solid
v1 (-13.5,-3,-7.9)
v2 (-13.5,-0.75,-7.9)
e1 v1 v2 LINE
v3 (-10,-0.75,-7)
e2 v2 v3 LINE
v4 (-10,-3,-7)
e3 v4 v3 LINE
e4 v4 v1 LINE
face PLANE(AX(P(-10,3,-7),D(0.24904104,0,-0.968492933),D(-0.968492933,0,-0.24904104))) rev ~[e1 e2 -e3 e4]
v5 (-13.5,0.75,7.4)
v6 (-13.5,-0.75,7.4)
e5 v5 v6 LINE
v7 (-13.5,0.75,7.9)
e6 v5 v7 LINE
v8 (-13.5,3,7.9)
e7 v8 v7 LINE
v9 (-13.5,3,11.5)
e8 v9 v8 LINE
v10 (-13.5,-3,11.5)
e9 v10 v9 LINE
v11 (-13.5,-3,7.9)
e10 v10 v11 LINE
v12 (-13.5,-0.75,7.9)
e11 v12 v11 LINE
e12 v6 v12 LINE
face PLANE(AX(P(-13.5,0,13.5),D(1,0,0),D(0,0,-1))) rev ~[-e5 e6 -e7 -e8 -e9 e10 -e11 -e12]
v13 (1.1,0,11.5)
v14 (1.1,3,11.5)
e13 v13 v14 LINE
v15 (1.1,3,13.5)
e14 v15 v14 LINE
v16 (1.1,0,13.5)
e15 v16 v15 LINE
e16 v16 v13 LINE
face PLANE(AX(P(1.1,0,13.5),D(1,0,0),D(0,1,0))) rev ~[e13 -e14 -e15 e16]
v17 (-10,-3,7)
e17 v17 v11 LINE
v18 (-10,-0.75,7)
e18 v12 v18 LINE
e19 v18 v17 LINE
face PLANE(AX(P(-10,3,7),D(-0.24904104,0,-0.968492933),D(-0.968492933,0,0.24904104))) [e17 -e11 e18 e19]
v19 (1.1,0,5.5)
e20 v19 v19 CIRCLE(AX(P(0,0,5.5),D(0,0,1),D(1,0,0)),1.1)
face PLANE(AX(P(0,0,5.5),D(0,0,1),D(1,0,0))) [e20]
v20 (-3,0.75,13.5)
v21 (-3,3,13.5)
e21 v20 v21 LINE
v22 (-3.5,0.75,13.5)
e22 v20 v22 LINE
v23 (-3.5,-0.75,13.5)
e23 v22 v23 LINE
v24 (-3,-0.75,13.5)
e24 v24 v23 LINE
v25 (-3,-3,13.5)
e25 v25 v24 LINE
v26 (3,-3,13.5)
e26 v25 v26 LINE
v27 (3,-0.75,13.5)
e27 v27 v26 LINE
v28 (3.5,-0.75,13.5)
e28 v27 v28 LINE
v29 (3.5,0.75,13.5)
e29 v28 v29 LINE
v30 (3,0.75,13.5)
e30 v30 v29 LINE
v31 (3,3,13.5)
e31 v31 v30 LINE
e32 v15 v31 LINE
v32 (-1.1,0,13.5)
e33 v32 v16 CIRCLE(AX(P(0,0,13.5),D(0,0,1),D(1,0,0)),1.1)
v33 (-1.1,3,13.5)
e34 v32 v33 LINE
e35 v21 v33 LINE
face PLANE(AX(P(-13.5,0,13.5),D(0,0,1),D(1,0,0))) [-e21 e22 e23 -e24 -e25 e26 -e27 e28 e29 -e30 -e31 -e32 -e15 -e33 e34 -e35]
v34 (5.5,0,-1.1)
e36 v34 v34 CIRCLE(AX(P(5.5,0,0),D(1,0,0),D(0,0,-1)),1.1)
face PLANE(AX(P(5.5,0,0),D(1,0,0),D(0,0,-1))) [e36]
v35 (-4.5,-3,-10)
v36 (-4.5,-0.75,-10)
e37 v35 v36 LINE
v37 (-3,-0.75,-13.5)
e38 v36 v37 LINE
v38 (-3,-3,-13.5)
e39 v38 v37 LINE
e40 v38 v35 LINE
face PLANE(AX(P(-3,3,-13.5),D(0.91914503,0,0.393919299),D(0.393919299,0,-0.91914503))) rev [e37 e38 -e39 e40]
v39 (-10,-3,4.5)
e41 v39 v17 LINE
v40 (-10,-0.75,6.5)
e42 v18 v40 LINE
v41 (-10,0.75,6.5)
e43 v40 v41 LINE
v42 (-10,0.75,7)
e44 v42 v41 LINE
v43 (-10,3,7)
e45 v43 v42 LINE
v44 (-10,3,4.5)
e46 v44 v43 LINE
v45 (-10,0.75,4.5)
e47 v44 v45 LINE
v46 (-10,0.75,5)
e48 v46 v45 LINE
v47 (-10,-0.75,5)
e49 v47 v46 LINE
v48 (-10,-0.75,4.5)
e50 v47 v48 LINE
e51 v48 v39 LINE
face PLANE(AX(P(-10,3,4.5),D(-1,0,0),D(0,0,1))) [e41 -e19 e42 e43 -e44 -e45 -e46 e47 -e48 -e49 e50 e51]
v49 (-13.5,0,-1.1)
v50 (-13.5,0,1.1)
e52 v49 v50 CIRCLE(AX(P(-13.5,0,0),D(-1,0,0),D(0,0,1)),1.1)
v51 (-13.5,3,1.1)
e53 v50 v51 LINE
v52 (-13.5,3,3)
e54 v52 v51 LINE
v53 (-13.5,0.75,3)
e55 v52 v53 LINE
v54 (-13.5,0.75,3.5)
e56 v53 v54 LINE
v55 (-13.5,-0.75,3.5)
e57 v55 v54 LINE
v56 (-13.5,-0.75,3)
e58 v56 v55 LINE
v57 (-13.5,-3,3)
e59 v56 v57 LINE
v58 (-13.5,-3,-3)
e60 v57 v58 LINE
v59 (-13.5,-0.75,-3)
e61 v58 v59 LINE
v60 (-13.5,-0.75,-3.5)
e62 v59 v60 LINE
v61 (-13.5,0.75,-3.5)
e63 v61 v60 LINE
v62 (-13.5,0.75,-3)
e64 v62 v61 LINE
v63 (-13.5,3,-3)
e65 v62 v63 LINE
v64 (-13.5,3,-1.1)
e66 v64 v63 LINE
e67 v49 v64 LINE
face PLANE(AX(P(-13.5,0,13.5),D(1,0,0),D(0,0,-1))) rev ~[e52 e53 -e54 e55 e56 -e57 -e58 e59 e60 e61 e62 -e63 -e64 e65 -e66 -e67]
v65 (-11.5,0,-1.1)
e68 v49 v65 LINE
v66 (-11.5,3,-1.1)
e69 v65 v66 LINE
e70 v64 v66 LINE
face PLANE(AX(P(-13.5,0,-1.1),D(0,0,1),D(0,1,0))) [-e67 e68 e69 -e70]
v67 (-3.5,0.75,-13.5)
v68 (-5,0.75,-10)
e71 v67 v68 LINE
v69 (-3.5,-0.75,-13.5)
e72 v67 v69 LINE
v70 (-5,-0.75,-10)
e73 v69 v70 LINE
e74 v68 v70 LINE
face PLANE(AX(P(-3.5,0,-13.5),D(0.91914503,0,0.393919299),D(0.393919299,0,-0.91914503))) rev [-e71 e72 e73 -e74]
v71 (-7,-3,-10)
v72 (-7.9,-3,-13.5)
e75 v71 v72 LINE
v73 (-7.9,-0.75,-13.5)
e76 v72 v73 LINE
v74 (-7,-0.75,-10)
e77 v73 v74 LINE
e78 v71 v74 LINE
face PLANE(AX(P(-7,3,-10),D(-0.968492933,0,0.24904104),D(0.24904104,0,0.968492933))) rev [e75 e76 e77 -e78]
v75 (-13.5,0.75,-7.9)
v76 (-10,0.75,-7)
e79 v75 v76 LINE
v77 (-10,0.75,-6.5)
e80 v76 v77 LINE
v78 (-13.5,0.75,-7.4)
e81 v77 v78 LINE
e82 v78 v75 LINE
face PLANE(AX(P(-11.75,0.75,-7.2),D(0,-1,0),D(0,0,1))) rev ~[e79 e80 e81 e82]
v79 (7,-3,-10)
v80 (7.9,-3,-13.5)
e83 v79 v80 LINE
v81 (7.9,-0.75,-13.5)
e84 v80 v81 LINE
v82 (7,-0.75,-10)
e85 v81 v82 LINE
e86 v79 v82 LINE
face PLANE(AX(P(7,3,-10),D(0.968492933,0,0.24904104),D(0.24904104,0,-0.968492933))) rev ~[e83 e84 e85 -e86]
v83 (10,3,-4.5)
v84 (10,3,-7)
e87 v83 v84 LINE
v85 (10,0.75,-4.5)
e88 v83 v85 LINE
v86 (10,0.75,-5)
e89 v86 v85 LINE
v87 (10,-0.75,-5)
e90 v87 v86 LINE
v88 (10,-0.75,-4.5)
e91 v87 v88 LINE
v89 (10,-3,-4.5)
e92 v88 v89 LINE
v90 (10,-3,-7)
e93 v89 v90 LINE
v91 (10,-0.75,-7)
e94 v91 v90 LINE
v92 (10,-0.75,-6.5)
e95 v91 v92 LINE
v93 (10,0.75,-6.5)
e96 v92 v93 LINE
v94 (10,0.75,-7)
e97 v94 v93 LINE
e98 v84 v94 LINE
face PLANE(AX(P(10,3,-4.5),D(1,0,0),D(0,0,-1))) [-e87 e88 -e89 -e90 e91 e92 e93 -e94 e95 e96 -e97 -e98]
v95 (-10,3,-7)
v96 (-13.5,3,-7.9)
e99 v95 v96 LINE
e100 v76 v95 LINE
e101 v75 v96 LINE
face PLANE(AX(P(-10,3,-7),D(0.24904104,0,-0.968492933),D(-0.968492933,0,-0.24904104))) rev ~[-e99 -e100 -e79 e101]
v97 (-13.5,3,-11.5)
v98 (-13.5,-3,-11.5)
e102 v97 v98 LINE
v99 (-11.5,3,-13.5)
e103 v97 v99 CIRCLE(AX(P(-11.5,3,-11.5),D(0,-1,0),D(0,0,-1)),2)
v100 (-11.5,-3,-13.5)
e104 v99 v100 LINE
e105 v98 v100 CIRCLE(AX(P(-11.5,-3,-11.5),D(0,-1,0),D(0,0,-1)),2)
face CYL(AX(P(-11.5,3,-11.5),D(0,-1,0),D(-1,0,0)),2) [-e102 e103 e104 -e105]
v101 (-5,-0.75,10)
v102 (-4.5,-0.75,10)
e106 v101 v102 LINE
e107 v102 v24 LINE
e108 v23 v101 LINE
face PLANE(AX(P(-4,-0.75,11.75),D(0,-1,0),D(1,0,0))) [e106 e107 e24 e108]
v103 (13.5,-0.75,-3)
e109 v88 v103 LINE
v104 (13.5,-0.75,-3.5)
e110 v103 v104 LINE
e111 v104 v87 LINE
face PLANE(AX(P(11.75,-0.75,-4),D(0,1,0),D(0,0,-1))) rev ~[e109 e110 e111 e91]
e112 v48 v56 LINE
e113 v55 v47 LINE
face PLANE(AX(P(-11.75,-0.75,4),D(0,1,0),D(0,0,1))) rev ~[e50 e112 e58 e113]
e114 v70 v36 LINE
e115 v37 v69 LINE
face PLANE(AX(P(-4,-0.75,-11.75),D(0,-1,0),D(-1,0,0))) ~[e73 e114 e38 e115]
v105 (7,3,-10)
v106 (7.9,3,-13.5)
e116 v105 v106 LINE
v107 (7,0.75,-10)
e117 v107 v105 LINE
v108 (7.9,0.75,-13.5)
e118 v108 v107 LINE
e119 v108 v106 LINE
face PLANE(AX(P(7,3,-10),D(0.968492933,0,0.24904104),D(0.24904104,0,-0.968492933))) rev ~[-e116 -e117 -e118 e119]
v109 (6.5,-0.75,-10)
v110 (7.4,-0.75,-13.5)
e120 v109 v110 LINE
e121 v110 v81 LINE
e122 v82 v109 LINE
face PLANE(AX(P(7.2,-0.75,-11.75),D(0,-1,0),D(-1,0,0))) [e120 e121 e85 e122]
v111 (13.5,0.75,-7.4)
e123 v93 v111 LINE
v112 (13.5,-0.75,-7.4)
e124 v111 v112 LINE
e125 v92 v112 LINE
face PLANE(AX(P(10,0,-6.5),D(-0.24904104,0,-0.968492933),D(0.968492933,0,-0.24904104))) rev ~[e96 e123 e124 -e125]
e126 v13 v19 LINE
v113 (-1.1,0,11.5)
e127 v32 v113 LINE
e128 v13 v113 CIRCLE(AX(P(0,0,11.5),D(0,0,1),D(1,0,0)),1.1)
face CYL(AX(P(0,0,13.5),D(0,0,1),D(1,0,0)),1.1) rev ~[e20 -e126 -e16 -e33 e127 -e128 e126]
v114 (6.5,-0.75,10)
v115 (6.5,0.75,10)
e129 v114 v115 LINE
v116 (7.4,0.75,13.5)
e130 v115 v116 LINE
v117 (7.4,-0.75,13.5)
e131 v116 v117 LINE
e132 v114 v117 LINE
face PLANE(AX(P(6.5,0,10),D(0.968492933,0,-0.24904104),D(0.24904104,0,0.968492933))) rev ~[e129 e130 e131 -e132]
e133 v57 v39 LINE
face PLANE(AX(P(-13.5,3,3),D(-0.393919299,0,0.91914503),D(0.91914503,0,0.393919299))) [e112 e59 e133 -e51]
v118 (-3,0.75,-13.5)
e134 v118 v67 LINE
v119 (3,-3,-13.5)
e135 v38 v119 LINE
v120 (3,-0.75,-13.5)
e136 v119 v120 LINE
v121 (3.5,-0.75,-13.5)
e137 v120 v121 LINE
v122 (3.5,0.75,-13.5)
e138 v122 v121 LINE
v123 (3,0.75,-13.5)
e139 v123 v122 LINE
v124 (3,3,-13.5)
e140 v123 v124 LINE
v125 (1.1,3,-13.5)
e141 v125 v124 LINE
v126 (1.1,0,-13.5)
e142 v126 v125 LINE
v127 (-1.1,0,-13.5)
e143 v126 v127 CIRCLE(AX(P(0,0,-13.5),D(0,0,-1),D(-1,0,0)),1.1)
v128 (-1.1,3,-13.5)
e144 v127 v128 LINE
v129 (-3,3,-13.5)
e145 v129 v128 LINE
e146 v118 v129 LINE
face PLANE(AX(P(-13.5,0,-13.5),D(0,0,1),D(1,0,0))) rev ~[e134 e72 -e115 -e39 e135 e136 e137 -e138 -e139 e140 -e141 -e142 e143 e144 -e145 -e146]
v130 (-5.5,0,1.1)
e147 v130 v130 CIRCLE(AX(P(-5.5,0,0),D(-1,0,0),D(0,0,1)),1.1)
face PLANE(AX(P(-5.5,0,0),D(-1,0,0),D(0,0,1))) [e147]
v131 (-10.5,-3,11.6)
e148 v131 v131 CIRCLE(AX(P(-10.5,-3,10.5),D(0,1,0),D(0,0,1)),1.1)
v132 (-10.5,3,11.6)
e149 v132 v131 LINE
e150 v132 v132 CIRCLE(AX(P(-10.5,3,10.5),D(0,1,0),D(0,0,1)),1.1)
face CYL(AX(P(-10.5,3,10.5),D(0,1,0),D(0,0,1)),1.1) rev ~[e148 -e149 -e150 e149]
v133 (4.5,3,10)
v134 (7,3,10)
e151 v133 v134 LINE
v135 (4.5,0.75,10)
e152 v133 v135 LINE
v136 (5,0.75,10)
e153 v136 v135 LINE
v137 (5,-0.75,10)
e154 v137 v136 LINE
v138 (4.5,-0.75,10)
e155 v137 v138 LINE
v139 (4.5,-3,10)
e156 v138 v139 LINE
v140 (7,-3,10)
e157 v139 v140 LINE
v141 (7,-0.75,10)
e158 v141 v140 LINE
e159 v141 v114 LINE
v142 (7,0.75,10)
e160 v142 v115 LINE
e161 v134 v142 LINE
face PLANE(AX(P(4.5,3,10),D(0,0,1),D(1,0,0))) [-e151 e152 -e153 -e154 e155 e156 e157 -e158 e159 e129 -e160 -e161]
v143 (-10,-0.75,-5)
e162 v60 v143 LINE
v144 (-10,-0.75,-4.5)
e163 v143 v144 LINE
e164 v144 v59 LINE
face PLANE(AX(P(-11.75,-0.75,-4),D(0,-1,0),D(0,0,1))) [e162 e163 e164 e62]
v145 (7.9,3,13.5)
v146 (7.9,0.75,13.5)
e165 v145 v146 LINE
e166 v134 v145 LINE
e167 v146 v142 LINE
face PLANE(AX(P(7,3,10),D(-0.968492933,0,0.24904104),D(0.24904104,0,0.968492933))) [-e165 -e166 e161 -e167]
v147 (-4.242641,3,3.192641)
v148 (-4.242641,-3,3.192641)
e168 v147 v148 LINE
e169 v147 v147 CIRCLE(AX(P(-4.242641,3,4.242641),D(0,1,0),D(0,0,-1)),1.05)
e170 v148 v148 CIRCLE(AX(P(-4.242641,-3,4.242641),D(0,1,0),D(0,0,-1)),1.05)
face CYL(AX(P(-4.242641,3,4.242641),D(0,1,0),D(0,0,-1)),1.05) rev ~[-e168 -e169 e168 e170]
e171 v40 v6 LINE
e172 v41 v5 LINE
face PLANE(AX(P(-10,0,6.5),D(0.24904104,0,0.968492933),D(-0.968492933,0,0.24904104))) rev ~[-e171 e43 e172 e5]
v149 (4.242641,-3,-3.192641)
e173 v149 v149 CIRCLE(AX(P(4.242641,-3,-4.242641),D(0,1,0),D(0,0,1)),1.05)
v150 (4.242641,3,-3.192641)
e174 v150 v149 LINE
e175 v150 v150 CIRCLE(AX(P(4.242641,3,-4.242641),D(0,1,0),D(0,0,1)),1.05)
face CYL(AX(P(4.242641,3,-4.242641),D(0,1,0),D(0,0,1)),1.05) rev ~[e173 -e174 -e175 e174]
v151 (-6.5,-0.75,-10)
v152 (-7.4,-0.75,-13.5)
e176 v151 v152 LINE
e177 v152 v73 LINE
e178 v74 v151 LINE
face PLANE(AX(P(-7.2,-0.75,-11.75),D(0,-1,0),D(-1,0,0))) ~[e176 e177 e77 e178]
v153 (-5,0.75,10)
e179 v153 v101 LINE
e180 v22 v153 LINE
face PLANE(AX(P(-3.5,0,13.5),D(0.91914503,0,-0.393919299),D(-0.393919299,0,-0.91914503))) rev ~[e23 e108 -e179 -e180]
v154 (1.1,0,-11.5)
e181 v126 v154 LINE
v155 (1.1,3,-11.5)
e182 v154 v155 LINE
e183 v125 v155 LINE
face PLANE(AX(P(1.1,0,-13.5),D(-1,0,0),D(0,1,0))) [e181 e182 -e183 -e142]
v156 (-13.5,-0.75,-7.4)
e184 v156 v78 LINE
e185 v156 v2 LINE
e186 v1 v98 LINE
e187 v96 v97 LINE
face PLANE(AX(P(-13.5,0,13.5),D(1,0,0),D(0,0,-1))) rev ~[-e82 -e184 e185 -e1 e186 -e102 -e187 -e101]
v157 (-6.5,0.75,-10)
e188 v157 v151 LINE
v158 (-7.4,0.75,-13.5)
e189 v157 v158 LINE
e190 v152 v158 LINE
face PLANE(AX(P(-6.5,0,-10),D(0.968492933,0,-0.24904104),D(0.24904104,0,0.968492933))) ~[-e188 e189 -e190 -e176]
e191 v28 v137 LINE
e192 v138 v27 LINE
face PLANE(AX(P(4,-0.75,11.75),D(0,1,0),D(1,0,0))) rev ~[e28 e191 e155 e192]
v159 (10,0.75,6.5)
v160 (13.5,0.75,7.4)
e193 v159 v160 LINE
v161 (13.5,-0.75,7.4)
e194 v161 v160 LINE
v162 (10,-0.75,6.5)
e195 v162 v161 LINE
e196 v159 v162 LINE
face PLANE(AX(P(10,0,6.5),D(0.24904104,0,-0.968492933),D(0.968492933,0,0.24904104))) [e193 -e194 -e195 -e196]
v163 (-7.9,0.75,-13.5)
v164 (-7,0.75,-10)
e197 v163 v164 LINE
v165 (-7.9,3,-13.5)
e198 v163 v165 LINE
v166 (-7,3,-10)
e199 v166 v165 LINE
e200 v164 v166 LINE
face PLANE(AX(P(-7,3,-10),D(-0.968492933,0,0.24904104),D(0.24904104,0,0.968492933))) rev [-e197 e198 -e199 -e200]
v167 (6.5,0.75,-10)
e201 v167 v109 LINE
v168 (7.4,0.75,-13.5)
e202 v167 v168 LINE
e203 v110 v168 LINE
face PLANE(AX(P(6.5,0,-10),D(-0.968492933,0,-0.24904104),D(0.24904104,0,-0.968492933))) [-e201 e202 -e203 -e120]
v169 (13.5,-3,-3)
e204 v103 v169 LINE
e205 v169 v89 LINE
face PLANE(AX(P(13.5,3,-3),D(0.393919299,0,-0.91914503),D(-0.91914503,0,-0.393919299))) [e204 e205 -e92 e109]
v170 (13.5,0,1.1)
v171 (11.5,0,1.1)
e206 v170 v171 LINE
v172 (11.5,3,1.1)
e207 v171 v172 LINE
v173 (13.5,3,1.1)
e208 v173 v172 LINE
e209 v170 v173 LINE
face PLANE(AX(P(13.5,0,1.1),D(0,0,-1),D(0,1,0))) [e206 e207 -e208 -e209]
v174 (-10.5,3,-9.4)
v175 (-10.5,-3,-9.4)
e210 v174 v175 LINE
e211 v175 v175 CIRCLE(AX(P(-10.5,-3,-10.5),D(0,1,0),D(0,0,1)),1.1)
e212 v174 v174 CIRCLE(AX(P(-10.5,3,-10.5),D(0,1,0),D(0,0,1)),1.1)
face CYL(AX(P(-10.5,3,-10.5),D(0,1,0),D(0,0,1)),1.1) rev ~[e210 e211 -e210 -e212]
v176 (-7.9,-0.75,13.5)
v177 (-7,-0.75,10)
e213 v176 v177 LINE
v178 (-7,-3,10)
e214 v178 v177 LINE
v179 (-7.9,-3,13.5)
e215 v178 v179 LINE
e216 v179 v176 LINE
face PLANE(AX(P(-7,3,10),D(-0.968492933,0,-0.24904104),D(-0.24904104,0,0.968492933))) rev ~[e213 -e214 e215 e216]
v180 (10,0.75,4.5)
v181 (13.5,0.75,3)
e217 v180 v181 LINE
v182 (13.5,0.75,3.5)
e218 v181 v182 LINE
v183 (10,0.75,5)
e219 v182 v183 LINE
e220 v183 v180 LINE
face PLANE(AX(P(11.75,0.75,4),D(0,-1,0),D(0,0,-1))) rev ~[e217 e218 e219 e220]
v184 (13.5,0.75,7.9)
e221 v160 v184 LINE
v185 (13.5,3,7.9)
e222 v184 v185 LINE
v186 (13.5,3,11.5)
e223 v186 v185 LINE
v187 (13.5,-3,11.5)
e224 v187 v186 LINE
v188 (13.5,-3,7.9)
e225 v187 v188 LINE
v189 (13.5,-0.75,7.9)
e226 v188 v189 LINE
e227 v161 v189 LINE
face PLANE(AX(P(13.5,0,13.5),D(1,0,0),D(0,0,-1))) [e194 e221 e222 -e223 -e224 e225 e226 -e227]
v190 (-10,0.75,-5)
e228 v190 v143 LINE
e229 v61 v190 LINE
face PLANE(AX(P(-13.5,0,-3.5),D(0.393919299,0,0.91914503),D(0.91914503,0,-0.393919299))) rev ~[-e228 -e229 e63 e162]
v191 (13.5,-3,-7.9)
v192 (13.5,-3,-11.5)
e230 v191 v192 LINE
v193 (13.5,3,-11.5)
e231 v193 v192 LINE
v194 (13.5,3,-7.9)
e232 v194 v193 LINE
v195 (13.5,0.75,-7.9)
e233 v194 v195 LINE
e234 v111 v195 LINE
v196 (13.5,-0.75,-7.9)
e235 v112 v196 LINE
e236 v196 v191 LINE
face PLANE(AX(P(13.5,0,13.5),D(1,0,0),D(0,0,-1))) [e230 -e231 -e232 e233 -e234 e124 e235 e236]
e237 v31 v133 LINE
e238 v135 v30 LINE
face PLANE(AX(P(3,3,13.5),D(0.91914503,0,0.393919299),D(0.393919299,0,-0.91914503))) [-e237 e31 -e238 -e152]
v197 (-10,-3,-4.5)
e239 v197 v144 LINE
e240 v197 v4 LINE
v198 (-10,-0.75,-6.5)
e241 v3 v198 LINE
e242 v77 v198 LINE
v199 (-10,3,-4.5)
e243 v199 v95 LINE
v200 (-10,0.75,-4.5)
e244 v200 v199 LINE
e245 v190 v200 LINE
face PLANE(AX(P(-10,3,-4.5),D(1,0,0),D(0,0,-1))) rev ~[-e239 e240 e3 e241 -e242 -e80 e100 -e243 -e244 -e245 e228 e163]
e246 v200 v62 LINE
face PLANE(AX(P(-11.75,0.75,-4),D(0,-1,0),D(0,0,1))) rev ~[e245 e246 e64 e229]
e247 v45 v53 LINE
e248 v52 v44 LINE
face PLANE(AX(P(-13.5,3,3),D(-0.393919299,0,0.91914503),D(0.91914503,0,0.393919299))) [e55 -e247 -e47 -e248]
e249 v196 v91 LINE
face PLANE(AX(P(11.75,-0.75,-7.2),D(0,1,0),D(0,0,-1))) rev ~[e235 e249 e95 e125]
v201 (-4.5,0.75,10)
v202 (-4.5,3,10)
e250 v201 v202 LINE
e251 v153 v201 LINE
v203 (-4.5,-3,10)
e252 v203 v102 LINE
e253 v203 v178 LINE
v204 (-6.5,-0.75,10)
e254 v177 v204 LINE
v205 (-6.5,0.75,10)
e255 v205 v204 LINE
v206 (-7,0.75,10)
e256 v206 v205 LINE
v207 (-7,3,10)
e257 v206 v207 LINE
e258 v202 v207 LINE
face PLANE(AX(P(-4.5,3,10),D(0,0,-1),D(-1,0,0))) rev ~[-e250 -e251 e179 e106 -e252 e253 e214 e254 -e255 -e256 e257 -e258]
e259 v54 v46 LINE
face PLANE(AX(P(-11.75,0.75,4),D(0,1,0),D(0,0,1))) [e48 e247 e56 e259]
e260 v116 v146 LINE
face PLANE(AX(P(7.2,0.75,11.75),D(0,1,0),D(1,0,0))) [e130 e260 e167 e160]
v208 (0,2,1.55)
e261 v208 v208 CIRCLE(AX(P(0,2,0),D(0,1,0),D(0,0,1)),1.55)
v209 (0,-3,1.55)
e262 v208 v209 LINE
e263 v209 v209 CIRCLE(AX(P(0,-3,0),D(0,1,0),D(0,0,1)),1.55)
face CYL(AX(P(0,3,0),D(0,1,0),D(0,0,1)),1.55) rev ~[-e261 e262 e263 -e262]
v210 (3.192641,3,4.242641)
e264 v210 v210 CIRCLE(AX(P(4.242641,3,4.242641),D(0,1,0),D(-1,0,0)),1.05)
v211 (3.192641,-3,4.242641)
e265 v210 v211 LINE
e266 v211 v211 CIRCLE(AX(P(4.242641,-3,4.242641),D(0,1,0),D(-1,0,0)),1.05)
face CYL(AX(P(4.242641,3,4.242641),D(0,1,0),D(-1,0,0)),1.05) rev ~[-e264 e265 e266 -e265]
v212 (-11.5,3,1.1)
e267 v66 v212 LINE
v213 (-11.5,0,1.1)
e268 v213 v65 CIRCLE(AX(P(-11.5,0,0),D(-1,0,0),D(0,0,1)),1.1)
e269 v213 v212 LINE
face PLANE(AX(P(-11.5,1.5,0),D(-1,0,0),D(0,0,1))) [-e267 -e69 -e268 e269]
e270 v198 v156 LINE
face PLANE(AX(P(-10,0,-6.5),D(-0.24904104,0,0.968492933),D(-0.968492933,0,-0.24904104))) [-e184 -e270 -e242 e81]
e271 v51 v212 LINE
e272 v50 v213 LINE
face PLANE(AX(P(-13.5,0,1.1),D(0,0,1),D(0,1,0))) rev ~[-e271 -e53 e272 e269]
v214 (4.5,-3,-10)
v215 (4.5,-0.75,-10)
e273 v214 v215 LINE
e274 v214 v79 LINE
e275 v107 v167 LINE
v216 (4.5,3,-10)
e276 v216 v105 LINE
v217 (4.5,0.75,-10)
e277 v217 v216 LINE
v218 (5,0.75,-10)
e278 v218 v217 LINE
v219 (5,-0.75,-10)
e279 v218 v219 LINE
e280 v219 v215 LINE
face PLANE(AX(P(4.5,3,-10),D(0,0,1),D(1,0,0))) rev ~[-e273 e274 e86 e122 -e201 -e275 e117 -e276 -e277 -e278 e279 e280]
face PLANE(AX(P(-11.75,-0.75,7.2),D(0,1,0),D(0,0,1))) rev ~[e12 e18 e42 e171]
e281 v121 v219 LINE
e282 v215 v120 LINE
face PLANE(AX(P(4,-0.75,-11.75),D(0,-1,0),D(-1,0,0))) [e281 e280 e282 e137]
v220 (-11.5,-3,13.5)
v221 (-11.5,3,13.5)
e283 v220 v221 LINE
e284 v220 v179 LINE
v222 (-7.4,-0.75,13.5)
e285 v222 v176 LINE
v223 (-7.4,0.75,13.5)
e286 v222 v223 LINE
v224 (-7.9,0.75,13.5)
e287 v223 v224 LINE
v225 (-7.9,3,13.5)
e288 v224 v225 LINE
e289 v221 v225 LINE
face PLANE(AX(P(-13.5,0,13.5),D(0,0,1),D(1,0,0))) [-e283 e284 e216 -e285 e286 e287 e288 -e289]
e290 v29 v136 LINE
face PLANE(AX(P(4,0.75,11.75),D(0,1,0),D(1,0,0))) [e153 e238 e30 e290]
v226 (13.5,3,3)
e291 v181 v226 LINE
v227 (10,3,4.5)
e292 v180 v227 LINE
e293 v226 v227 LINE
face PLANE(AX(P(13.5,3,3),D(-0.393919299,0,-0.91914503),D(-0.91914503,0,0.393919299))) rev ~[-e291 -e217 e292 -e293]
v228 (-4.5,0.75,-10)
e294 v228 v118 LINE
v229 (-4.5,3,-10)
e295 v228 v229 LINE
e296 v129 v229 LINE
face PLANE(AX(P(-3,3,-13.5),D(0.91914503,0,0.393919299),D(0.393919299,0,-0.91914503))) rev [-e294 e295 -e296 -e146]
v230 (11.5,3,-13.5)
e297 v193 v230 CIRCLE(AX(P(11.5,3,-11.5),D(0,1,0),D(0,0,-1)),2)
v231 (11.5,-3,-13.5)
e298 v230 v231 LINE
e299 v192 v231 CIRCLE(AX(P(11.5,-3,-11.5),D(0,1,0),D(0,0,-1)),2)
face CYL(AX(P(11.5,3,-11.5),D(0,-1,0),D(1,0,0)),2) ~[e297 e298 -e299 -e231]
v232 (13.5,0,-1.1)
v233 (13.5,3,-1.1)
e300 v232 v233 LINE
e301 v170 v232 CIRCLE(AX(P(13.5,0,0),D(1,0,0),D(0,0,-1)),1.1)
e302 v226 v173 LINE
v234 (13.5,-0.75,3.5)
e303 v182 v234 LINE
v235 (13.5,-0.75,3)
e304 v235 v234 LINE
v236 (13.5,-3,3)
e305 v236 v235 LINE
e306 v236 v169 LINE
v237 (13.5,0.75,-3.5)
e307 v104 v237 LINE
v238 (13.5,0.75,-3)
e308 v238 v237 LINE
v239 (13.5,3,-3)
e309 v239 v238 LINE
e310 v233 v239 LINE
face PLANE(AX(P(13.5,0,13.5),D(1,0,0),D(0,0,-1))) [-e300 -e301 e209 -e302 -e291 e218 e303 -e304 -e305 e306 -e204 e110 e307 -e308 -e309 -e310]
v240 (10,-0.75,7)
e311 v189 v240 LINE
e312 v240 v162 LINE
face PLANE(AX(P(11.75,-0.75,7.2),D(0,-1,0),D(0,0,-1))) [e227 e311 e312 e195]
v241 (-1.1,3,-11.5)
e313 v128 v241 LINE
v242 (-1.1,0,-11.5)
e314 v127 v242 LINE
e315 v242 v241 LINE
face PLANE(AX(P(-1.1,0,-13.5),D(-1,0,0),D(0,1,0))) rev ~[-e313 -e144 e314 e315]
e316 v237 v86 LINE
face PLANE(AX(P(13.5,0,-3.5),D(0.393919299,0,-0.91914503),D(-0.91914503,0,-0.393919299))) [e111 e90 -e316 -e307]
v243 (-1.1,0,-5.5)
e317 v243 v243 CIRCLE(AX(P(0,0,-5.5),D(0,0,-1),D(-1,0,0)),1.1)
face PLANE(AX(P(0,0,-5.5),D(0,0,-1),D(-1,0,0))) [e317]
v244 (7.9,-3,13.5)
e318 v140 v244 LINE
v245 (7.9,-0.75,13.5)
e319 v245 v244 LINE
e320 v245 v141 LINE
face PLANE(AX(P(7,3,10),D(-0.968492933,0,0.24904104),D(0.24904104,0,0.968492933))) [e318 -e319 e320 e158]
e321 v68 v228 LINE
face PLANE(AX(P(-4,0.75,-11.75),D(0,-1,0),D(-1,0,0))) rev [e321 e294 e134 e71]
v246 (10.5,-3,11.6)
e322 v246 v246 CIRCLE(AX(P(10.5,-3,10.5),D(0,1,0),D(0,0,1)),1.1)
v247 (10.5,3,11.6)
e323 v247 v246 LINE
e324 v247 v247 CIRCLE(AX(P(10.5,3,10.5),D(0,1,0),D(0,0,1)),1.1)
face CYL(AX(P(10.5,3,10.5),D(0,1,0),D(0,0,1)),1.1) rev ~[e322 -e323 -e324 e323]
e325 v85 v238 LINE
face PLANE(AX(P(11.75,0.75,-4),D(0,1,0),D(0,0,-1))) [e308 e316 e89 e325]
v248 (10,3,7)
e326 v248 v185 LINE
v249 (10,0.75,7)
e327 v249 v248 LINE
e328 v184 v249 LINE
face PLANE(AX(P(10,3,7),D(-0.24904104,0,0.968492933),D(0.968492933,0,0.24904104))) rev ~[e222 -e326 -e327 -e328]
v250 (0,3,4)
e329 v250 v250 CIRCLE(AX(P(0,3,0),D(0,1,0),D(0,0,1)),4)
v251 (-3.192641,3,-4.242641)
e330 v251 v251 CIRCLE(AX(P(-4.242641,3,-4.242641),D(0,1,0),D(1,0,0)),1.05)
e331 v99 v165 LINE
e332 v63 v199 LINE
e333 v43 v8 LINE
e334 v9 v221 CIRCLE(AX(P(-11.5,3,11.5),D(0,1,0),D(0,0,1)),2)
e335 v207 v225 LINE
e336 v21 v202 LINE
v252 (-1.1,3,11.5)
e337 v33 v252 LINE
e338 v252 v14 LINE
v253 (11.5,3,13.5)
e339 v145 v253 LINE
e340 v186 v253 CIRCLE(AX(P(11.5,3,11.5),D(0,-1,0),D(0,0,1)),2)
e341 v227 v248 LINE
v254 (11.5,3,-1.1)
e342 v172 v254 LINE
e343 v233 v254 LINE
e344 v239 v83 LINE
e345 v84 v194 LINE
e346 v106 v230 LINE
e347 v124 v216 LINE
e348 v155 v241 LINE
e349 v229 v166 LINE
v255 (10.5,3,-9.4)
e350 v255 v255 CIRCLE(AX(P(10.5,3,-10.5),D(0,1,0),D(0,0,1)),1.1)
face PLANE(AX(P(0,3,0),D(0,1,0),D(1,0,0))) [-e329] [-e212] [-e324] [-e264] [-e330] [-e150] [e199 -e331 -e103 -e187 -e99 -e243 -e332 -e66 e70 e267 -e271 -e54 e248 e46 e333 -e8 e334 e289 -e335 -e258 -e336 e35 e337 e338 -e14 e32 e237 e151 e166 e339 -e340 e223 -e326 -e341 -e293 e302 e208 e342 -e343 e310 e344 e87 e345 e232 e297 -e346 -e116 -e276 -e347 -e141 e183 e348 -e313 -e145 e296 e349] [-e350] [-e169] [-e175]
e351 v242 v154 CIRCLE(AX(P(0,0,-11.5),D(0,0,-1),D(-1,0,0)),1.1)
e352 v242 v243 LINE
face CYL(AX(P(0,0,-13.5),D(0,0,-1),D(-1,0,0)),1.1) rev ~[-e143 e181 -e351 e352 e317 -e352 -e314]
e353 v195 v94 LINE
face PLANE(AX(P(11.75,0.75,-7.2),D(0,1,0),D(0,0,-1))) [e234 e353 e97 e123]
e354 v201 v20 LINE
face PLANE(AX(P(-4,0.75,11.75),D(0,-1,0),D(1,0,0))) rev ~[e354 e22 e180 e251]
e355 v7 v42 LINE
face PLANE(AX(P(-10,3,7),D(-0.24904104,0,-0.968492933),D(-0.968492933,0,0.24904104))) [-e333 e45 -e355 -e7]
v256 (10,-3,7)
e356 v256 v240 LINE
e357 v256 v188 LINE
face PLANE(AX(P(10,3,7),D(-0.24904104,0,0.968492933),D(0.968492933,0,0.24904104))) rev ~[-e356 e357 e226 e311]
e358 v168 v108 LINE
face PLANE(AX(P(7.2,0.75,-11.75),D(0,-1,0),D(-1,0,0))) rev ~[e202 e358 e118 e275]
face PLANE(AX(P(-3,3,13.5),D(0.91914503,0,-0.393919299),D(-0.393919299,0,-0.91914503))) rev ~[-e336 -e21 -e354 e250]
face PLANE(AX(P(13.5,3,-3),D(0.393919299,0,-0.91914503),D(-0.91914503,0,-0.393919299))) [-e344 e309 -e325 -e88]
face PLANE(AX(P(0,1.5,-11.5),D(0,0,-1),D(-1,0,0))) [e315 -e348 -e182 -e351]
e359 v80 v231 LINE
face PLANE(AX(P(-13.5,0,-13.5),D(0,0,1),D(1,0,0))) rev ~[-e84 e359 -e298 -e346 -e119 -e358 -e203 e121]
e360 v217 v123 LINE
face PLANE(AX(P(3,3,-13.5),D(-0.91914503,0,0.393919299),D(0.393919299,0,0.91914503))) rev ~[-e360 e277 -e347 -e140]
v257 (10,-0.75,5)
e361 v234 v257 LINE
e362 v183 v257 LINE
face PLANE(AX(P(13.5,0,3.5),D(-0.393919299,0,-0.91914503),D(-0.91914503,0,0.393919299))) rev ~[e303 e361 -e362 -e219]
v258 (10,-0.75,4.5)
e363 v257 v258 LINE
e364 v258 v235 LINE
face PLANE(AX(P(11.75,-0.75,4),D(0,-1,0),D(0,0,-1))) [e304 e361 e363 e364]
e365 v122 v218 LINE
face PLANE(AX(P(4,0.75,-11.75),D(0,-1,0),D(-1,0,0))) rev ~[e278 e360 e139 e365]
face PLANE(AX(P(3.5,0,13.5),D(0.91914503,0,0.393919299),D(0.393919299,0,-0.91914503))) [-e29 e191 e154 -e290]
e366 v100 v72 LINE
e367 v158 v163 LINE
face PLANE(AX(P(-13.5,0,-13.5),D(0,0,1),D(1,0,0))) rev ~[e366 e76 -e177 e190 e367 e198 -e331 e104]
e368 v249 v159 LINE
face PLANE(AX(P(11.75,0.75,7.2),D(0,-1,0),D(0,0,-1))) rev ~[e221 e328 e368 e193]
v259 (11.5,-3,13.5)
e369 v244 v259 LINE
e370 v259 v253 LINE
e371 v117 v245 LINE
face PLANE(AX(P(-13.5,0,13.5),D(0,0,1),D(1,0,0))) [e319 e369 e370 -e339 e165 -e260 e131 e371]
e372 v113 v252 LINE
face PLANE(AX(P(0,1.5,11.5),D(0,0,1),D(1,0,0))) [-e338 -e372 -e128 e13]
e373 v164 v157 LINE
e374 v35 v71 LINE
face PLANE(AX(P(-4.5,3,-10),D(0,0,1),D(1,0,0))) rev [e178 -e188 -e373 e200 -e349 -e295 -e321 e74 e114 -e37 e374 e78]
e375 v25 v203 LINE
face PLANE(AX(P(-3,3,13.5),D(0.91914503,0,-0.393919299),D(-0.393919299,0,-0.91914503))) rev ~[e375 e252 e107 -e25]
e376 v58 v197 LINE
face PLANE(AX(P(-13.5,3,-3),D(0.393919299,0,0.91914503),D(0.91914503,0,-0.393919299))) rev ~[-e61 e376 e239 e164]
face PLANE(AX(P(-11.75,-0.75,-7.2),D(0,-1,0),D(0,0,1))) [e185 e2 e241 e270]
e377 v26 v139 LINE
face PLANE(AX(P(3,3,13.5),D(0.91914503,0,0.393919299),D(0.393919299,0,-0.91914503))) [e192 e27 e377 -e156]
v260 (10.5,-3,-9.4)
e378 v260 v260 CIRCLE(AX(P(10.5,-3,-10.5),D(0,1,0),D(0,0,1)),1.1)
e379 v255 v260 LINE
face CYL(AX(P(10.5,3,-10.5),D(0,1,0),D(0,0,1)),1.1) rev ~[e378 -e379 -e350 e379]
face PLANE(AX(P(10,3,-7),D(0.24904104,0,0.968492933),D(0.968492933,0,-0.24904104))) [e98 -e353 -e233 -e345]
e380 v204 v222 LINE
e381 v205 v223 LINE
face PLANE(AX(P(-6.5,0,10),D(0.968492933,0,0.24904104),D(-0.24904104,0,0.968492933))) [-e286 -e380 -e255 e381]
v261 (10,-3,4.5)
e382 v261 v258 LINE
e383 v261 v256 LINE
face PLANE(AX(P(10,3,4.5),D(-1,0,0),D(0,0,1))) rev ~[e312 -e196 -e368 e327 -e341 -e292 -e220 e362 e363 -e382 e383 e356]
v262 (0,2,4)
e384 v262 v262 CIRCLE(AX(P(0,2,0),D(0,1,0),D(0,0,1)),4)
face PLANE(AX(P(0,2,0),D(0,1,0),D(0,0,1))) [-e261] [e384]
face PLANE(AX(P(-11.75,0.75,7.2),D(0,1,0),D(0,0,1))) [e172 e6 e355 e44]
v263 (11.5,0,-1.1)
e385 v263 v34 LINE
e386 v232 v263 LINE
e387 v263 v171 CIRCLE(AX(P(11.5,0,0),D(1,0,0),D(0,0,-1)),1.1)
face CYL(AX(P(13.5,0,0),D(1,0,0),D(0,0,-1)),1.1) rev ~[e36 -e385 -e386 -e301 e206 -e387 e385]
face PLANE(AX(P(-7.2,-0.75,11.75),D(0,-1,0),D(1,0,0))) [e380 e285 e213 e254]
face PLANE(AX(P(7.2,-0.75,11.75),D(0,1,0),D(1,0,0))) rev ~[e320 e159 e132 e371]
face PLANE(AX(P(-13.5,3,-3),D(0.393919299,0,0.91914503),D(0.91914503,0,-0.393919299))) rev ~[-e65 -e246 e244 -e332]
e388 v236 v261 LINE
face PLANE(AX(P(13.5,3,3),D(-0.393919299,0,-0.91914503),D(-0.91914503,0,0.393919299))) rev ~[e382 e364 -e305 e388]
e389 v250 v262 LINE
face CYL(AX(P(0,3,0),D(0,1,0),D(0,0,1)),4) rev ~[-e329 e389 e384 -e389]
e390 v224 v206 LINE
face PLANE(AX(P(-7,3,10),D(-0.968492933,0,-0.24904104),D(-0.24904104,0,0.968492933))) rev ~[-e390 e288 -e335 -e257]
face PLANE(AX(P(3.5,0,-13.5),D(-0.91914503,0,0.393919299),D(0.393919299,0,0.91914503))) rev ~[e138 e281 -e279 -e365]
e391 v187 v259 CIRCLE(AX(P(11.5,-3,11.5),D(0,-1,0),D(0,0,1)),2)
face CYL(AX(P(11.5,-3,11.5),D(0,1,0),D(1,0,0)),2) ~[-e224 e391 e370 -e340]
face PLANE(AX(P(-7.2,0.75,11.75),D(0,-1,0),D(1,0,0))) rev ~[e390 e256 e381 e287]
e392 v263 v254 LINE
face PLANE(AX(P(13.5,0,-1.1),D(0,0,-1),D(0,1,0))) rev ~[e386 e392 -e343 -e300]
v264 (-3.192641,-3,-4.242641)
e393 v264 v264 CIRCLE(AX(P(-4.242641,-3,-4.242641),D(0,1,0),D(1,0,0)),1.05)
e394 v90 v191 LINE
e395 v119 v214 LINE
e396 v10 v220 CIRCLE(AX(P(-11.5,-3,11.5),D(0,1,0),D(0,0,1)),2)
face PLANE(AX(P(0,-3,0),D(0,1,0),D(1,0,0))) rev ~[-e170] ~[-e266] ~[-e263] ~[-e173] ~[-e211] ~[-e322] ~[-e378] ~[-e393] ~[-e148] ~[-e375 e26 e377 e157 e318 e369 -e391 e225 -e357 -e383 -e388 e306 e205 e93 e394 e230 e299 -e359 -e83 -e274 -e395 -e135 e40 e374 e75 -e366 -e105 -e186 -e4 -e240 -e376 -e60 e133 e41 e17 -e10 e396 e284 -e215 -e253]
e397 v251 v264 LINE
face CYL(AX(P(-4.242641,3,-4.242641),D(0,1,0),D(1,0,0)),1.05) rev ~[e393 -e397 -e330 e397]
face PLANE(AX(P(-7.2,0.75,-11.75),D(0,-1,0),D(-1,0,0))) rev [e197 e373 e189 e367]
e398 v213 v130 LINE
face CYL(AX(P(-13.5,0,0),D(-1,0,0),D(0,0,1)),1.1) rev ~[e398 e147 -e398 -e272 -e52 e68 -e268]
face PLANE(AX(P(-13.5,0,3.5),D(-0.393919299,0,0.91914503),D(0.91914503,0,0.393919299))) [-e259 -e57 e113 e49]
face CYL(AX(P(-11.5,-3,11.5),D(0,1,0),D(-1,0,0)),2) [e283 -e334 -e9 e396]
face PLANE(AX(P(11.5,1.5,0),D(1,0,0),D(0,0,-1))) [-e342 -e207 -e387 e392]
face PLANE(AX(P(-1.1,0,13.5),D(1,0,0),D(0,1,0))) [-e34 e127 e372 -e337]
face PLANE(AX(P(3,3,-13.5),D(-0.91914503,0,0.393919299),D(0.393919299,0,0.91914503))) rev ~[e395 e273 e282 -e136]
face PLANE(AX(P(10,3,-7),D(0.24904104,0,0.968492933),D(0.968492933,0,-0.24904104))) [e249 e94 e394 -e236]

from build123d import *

# Parameters (mm, degrees)
SKETCH_3_W                      = 27
SKETCH_3_H                      = 27
EXTRUDE_1_DEPTH                 = 3
FILLET_1_R                      = 2
SKETCH_4_R                      = 1.1
CUT_EXTRUDE_1_DEPTH             = 6
SKETCH_5_R                      = 1.55
CUT_EXTRUDE_2_DEPTH             = 6
SKETCH_6_R                      = 1.05
CUT_EXTRUDE_3_DEPTH             = 6
PATTERN_CIRCULAR_1_COUNT        = 4
SKETCH_7_R                      = 4
CUT_EXTRUDE_4_DEPTH             = 1
CUT_EXTRUDE_8_DEPTH             = 21.012496096
PATTERN_CIRCULAR_2_COUNT        = 4
PATTERN_CIRCULAR_2_COPY_1_DEPTH = 21.012496096
PATTERN_CIRCULAR_2_COPY_2_DEPTH = 21.012496096
PATTERN_CIRCULAR_2_COPY_3_DEPTH = 21.012496096
SKETCH_12_R                     = 1.1
CUT_EXTRUDE_9_DEPTH             = 8
PATTERN_CIRCULAR_3_COUNT        = 4
EXTRUDE_2_DEPTH                 = 0.75
PATTERN_CIRCULAR_4_COUNT        = 4
PATTERN_CIRCULAR_4_COPY_1_DEPTH = 0.75
PATTERN_CIRCULAR_4_COPY_2_DEPTH = 0.75
PATTERN_CIRCULAR_4_COPY_3_DEPTH = 0.75
SKETCH_22_W                     = 2.2
SKETCH_22_H                     = 3
CUT_EXTRUDE_15_DEPTH            = 2
PATTERN_CIRCULAR_11_COUNT       = 4


with BuildPart() as part:
    # ｽｹｯﾁ3 → ﾎﾞｽ - 押し出し1 (new, symmetric)
    with BuildSketch(Plane(origin=(0, 0, 0), x_dir=(1, 0, 0), z_dir=(0, 1, 0))):
        Rectangle(SKETCH_3_W, SKETCH_3_H)
    extrude(amount=EXTRUDE_1_DEPTH, both=True)

    # ﾌｨﾚｯﾄ1
    fillet_1_edges = [part.edges().sort_by_distance(p)[0] for p in [
        (13.5, 0, 13.5),
        (-13.5, 0, 13.5),
        (-13.5, 0, -13.5),
        (13.5, 0, -13.5),
    ]]
    fillet(fillet_1_edges, radius=FILLET_1_R)

    # ｽｹｯﾁ4 → ｶｯﾄ - 押し出し1 (cut)
    with BuildSketch(Plane(origin=(0, 3, 0), x_dir=(1, 0, 0), z_dir=(0, 1, 0))):
        with Locations(Location((-10.5, 10.5, 0), (0, 0, 270))):
            Circle(SKETCH_4_R)
        with Locations(Location((10.5, 10.5, 0), (0, 0, 270))):
            Circle(SKETCH_4_R)
        with Locations(Location((-10.5, -10.5, 0), (0, 0, 270))):
            Circle(SKETCH_4_R)
        with Locations(Location((10.5, -10.5, 0), (0, 0, 270))):
            Circle(SKETCH_4_R)
    extrude(amount=-CUT_EXTRUDE_1_DEPTH, mode=Mode.SUBTRACT)

    # ｽｹｯﾁ5 → ｶｯﾄ - 押し出し2 (cut)
    with BuildSketch(Plane(origin=(0, 3, 0), x_dir=(1, 0, 0), z_dir=(0, 1, 0))):
        with Locations(Location((0, 0, 0), (0, 0, 270))):
            Circle(SKETCH_5_R)
    extrude(amount=-CUT_EXTRUDE_2_DEPTH, mode=Mode.SUBTRACT)

    # ｽｹｯﾁ6 → ｶｯﾄ - 押し出し3 (cut)
    with BuildSketch(Plane(origin=(0, 3, 0), x_dir=(1, 0, 0), z_dir=(0, 1, 0))):
        with Locations(Location((4.242640687, 4.242640687, 0), (0, 0, 270))):
            Circle(SKETCH_6_R)
    cut_extrude_3 = extrude(amount=-CUT_EXTRUDE_3_DEPTH, mode=Mode.SUBTRACT)

    # 円形ﾊﾟﾀｰﾝ1: ｶｯﾄ - 押し出し3 ×4 about axis
    pattern_circular_1_axis = Axis((0, 0, 0), (0, 1, 0))
    for i in range(1, PATTERN_CIRCULAR_1_COUNT):
        add(cut_extrude_3.rotate(pattern_circular_1_axis, i * 360 / PATTERN_CIRCULAR_1_COUNT), mode=Mode.SUBTRACT)

    # ｽｹｯﾁ7 → ｶｯﾄ - 押し出し4 (cut)
    with BuildSketch(Plane(origin=(0, 3, 0), x_dir=(1, 0, 0), z_dir=(0, 1, 0))):
        with Locations(Location((0, 0, 0), (0, 0, 270))):
            Circle(SKETCH_7_R)
    extrude(amount=-CUT_EXTRUDE_4_DEPTH, mode=Mode.SUBTRACT)

    # ｽｹｯﾁ11 → ｶｯﾄ - 押し出し8 (cut, symmetric)
    with BuildSketch(Plane(origin=(0, 3, 0), x_dir=(1, 0, 0), z_dir=(0, 1, 0))):
        Polygon((-28.082033535, 86.024744916), (3, 13.5), (4.5, 10), (7, 10), (7.9, 13.5), (27.55047658, 89.918520033), (16.532211377, 247.342544779), (-39.100298738, 243.448769662), align=None)
    cut_extrude_8 = extrude(amount=CUT_EXTRUDE_8_DEPTH, both=True, mode=Mode.SUBTRACT)

    # ﾐﾗｰ1: ｶｯﾄ - 押し出し8 across plane
    add(cut_extrude_8.mirror(Plane(origin=(0, 0, 0), x_dir=(0, 0, 1), z_dir=(1, 0, 0))), mode=Mode.SUBTRACT)

    # 円形ﾊﾟﾀｰﾝ2: ｶｯﾄ - 押し出し8 ×4 about axis
    pattern_circular_2_axis = Axis((0, 0, 0), (0, 1, 0))
    for i in range(1, PATTERN_CIRCULAR_2_COUNT):
        add(cut_extrude_8.rotate(pattern_circular_2_axis, i * 360 / PATTERN_CIRCULAR_2_COUNT), mode=Mode.SUBTRACT)

    # 円形ﾊﾟﾀｰﾝ2 copy 1 sketch → 円形ﾊﾟﾀｰﾝ2 copy 1 (cut, symmetric)
    with BuildSketch(Plane.ZX.offset(3)):
        Polygon((-28.082033535, -86.024744916), (3, -13.5), (4.5, -10), (7, -10), (7.9, -13.5), (27.55047658, -89.918520033), (16.532211377, -247.342544779), (-39.100298738, -243.448769662), align=None)
    extrude(amount=PATTERN_CIRCULAR_2_COPY_1_DEPTH, both=True, mode=Mode.SUBTRACT)

    # 円形ﾊﾟﾀｰﾝ2 copy 2 sketch → 円形ﾊﾟﾀｰﾝ2 copy 2 (cut, symmetric)
    with BuildSketch(Plane(origin=(0, 3, 0), x_dir=(1, 0, 0), z_dir=(0, 1, 0))):
        Polygon((-28.082033535, -86.024744916), (3, -13.5), (4.5, -10), (7, -10), (7.9, -13.5), (27.55047658, -89.918520033), (16.532211377, -247.342544779), (-39.100298738, -243.448769662), align=None)
    extrude(amount=PATTERN_CIRCULAR_2_COPY_2_DEPTH, both=True, mode=Mode.SUBTRACT)

    # 円形ﾊﾟﾀｰﾝ2 copy 3 sketch → 円形ﾊﾟﾀｰﾝ2 copy 3 (cut, symmetric)
    with BuildSketch(Plane(origin=(0, 3, 0), x_dir=(0, 0, -1), z_dir=(0, 1, 0))):
        Polygon((-28.082033535, -86.024744916), (3, -13.5), (4.5, -10), (7, -10), (7.9, -13.5), (27.55047658, -89.918520033), (16.532211377, -247.342544779), (-39.100298738, -243.448769662), align=None)
    extrude(amount=PATTERN_CIRCULAR_2_COPY_3_DEPTH, both=True, mode=Mode.SUBTRACT)

    # ｽｹｯﾁ12 → ｶｯﾄ - 押し出し9 (cut)
    with BuildSketch(Plane.XY.offset(13.5)):
        Circle(SKETCH_12_R)
    cut_extrude_9 = extrude(amount=-CUT_EXTRUDE_9_DEPTH, mode=Mode.SUBTRACT)

    # 円形ﾊﾟﾀｰﾝ3: ｶｯﾄ - 押し出し9 ×4 about axis
    pattern_circular_3_axis = Axis((0, 0, 0), (0, 1, 0))
    for i in range(1, PATTERN_CIRCULAR_3_COUNT):
        add(cut_extrude_9.rotate(pattern_circular_3_axis, i * 360 / PATTERN_CIRCULAR_3_COUNT), mode=Mode.SUBTRACT)

    # ｽｹｯﾁ13 → ﾎﾞｽ - 押し出し2 (add, symmetric)
    with BuildSketch(Plane(origin=(0, 0, 0), x_dir=(1, 0, 0), z_dir=(0, 1, 0))):
        Polygon((7.9, 13.5), (7, 10), (6.5, 10), (7.4, 13.5), align=None)
        Polygon((3, 13.5), (3.5, 13.5), (5, 10), (4.5, 10), align=None)
    extrude_2 = extrude(amount=EXTRUDE_2_DEPTH, both=True)

    # ﾐﾗｰ2: ﾎﾞｽ - 押し出し2 across plane
    add(extrude_2.mirror(Plane(origin=(0, 0, 0), x_dir=(0, 0, 1), z_dir=(1, 0, 0))))

    # 円形ﾊﾟﾀｰﾝ4: ﾎﾞｽ - 押し出し2 ×4 about axis
    pattern_circular_4_axis = Axis((0, 0, 0), (0, 1, 0))
    for i in range(1, PATTERN_CIRCULAR_4_COUNT):
        add(extrude_2.rotate(pattern_circular_4_axis, i * 360 / PATTERN_CIRCULAR_4_COUNT))

    # 円形ﾊﾟﾀｰﾝ4 copy 1 sketch → 円形ﾊﾟﾀｰﾝ4 copy 1 (add, symmetric)
    with BuildSketch(Plane.ZX):
        Polygon((7.9, -13.5), (7, -10), (6.5, -10), (7.4, -13.5), align=None)
        Polygon((3, -13.5), (3.5, -13.5), (5, -10), (4.5, -10), align=None)
    extrude(amount=PATTERN_CIRCULAR_4_COPY_1_DEPTH, both=True)

    # 円形ﾊﾟﾀｰﾝ4 copy 2 sketch → 円形ﾊﾟﾀｰﾝ4 copy 2 (add, symmetric)
    with BuildSketch(Plane(origin=(0, 0, 0), x_dir=(1, 0, 0), z_dir=(0, 1, 0))):
        Polygon((7.9, -13.5), (7, -10), (6.5, -10), (7.4, -13.5), align=None)
        Polygon((3, -13.5), (3.5, -13.5), (5, -10), (4.5, -10), align=None)
    extrude(amount=PATTERN_CIRCULAR_4_COPY_2_DEPTH, both=True)

    # 円形ﾊﾟﾀｰﾝ4 copy 3 sketch → 円形ﾊﾟﾀｰﾝ4 copy 3 (add, symmetric)
    with BuildSketch(Plane(origin=(0, 0, 0), x_dir=(0, 0, -1), z_dir=(0, 1, 0))):
        Polygon((7.9, -13.5), (7, -10), (6.5, -10), (7.4, -13.5), align=None)
        Polygon((3, -13.5), (3.5, -13.5), (5, -10), (4.5, -10), align=None)
    extrude(amount=PATTERN_CIRCULAR_4_COPY_3_DEPTH, both=True)

    # ｽｹｯﾁ22 → ｶｯﾄ - 押し出し15 (cut)
    with BuildSketch(Plane.XY.offset(13.5)):
        with Locations((0, 1.5)):
            Rectangle(SKETCH_22_W, SKETCH_22_H)
    cut_extrude_15 = extrude(amount=-CUT_EXTRUDE_15_DEPTH, mode=Mode.SUBTRACT)

    # 円形ﾊﾟﾀｰﾝ11: ｶｯﾄ - 押し出し15 ×4 about axis
    pattern_circular_11_axis = Axis((0, 0, 0), (0, 1, 0))
    for i in range(1, PATTERN_CIRCULAR_11_COUNT):
        add(cut_extrude_15.rotate(pattern_circular_11_axis, i * 360 / PATTERN_CIRCULAR_11_COUNT), mode=Mode.SUBTRACT)


solid = part.part
